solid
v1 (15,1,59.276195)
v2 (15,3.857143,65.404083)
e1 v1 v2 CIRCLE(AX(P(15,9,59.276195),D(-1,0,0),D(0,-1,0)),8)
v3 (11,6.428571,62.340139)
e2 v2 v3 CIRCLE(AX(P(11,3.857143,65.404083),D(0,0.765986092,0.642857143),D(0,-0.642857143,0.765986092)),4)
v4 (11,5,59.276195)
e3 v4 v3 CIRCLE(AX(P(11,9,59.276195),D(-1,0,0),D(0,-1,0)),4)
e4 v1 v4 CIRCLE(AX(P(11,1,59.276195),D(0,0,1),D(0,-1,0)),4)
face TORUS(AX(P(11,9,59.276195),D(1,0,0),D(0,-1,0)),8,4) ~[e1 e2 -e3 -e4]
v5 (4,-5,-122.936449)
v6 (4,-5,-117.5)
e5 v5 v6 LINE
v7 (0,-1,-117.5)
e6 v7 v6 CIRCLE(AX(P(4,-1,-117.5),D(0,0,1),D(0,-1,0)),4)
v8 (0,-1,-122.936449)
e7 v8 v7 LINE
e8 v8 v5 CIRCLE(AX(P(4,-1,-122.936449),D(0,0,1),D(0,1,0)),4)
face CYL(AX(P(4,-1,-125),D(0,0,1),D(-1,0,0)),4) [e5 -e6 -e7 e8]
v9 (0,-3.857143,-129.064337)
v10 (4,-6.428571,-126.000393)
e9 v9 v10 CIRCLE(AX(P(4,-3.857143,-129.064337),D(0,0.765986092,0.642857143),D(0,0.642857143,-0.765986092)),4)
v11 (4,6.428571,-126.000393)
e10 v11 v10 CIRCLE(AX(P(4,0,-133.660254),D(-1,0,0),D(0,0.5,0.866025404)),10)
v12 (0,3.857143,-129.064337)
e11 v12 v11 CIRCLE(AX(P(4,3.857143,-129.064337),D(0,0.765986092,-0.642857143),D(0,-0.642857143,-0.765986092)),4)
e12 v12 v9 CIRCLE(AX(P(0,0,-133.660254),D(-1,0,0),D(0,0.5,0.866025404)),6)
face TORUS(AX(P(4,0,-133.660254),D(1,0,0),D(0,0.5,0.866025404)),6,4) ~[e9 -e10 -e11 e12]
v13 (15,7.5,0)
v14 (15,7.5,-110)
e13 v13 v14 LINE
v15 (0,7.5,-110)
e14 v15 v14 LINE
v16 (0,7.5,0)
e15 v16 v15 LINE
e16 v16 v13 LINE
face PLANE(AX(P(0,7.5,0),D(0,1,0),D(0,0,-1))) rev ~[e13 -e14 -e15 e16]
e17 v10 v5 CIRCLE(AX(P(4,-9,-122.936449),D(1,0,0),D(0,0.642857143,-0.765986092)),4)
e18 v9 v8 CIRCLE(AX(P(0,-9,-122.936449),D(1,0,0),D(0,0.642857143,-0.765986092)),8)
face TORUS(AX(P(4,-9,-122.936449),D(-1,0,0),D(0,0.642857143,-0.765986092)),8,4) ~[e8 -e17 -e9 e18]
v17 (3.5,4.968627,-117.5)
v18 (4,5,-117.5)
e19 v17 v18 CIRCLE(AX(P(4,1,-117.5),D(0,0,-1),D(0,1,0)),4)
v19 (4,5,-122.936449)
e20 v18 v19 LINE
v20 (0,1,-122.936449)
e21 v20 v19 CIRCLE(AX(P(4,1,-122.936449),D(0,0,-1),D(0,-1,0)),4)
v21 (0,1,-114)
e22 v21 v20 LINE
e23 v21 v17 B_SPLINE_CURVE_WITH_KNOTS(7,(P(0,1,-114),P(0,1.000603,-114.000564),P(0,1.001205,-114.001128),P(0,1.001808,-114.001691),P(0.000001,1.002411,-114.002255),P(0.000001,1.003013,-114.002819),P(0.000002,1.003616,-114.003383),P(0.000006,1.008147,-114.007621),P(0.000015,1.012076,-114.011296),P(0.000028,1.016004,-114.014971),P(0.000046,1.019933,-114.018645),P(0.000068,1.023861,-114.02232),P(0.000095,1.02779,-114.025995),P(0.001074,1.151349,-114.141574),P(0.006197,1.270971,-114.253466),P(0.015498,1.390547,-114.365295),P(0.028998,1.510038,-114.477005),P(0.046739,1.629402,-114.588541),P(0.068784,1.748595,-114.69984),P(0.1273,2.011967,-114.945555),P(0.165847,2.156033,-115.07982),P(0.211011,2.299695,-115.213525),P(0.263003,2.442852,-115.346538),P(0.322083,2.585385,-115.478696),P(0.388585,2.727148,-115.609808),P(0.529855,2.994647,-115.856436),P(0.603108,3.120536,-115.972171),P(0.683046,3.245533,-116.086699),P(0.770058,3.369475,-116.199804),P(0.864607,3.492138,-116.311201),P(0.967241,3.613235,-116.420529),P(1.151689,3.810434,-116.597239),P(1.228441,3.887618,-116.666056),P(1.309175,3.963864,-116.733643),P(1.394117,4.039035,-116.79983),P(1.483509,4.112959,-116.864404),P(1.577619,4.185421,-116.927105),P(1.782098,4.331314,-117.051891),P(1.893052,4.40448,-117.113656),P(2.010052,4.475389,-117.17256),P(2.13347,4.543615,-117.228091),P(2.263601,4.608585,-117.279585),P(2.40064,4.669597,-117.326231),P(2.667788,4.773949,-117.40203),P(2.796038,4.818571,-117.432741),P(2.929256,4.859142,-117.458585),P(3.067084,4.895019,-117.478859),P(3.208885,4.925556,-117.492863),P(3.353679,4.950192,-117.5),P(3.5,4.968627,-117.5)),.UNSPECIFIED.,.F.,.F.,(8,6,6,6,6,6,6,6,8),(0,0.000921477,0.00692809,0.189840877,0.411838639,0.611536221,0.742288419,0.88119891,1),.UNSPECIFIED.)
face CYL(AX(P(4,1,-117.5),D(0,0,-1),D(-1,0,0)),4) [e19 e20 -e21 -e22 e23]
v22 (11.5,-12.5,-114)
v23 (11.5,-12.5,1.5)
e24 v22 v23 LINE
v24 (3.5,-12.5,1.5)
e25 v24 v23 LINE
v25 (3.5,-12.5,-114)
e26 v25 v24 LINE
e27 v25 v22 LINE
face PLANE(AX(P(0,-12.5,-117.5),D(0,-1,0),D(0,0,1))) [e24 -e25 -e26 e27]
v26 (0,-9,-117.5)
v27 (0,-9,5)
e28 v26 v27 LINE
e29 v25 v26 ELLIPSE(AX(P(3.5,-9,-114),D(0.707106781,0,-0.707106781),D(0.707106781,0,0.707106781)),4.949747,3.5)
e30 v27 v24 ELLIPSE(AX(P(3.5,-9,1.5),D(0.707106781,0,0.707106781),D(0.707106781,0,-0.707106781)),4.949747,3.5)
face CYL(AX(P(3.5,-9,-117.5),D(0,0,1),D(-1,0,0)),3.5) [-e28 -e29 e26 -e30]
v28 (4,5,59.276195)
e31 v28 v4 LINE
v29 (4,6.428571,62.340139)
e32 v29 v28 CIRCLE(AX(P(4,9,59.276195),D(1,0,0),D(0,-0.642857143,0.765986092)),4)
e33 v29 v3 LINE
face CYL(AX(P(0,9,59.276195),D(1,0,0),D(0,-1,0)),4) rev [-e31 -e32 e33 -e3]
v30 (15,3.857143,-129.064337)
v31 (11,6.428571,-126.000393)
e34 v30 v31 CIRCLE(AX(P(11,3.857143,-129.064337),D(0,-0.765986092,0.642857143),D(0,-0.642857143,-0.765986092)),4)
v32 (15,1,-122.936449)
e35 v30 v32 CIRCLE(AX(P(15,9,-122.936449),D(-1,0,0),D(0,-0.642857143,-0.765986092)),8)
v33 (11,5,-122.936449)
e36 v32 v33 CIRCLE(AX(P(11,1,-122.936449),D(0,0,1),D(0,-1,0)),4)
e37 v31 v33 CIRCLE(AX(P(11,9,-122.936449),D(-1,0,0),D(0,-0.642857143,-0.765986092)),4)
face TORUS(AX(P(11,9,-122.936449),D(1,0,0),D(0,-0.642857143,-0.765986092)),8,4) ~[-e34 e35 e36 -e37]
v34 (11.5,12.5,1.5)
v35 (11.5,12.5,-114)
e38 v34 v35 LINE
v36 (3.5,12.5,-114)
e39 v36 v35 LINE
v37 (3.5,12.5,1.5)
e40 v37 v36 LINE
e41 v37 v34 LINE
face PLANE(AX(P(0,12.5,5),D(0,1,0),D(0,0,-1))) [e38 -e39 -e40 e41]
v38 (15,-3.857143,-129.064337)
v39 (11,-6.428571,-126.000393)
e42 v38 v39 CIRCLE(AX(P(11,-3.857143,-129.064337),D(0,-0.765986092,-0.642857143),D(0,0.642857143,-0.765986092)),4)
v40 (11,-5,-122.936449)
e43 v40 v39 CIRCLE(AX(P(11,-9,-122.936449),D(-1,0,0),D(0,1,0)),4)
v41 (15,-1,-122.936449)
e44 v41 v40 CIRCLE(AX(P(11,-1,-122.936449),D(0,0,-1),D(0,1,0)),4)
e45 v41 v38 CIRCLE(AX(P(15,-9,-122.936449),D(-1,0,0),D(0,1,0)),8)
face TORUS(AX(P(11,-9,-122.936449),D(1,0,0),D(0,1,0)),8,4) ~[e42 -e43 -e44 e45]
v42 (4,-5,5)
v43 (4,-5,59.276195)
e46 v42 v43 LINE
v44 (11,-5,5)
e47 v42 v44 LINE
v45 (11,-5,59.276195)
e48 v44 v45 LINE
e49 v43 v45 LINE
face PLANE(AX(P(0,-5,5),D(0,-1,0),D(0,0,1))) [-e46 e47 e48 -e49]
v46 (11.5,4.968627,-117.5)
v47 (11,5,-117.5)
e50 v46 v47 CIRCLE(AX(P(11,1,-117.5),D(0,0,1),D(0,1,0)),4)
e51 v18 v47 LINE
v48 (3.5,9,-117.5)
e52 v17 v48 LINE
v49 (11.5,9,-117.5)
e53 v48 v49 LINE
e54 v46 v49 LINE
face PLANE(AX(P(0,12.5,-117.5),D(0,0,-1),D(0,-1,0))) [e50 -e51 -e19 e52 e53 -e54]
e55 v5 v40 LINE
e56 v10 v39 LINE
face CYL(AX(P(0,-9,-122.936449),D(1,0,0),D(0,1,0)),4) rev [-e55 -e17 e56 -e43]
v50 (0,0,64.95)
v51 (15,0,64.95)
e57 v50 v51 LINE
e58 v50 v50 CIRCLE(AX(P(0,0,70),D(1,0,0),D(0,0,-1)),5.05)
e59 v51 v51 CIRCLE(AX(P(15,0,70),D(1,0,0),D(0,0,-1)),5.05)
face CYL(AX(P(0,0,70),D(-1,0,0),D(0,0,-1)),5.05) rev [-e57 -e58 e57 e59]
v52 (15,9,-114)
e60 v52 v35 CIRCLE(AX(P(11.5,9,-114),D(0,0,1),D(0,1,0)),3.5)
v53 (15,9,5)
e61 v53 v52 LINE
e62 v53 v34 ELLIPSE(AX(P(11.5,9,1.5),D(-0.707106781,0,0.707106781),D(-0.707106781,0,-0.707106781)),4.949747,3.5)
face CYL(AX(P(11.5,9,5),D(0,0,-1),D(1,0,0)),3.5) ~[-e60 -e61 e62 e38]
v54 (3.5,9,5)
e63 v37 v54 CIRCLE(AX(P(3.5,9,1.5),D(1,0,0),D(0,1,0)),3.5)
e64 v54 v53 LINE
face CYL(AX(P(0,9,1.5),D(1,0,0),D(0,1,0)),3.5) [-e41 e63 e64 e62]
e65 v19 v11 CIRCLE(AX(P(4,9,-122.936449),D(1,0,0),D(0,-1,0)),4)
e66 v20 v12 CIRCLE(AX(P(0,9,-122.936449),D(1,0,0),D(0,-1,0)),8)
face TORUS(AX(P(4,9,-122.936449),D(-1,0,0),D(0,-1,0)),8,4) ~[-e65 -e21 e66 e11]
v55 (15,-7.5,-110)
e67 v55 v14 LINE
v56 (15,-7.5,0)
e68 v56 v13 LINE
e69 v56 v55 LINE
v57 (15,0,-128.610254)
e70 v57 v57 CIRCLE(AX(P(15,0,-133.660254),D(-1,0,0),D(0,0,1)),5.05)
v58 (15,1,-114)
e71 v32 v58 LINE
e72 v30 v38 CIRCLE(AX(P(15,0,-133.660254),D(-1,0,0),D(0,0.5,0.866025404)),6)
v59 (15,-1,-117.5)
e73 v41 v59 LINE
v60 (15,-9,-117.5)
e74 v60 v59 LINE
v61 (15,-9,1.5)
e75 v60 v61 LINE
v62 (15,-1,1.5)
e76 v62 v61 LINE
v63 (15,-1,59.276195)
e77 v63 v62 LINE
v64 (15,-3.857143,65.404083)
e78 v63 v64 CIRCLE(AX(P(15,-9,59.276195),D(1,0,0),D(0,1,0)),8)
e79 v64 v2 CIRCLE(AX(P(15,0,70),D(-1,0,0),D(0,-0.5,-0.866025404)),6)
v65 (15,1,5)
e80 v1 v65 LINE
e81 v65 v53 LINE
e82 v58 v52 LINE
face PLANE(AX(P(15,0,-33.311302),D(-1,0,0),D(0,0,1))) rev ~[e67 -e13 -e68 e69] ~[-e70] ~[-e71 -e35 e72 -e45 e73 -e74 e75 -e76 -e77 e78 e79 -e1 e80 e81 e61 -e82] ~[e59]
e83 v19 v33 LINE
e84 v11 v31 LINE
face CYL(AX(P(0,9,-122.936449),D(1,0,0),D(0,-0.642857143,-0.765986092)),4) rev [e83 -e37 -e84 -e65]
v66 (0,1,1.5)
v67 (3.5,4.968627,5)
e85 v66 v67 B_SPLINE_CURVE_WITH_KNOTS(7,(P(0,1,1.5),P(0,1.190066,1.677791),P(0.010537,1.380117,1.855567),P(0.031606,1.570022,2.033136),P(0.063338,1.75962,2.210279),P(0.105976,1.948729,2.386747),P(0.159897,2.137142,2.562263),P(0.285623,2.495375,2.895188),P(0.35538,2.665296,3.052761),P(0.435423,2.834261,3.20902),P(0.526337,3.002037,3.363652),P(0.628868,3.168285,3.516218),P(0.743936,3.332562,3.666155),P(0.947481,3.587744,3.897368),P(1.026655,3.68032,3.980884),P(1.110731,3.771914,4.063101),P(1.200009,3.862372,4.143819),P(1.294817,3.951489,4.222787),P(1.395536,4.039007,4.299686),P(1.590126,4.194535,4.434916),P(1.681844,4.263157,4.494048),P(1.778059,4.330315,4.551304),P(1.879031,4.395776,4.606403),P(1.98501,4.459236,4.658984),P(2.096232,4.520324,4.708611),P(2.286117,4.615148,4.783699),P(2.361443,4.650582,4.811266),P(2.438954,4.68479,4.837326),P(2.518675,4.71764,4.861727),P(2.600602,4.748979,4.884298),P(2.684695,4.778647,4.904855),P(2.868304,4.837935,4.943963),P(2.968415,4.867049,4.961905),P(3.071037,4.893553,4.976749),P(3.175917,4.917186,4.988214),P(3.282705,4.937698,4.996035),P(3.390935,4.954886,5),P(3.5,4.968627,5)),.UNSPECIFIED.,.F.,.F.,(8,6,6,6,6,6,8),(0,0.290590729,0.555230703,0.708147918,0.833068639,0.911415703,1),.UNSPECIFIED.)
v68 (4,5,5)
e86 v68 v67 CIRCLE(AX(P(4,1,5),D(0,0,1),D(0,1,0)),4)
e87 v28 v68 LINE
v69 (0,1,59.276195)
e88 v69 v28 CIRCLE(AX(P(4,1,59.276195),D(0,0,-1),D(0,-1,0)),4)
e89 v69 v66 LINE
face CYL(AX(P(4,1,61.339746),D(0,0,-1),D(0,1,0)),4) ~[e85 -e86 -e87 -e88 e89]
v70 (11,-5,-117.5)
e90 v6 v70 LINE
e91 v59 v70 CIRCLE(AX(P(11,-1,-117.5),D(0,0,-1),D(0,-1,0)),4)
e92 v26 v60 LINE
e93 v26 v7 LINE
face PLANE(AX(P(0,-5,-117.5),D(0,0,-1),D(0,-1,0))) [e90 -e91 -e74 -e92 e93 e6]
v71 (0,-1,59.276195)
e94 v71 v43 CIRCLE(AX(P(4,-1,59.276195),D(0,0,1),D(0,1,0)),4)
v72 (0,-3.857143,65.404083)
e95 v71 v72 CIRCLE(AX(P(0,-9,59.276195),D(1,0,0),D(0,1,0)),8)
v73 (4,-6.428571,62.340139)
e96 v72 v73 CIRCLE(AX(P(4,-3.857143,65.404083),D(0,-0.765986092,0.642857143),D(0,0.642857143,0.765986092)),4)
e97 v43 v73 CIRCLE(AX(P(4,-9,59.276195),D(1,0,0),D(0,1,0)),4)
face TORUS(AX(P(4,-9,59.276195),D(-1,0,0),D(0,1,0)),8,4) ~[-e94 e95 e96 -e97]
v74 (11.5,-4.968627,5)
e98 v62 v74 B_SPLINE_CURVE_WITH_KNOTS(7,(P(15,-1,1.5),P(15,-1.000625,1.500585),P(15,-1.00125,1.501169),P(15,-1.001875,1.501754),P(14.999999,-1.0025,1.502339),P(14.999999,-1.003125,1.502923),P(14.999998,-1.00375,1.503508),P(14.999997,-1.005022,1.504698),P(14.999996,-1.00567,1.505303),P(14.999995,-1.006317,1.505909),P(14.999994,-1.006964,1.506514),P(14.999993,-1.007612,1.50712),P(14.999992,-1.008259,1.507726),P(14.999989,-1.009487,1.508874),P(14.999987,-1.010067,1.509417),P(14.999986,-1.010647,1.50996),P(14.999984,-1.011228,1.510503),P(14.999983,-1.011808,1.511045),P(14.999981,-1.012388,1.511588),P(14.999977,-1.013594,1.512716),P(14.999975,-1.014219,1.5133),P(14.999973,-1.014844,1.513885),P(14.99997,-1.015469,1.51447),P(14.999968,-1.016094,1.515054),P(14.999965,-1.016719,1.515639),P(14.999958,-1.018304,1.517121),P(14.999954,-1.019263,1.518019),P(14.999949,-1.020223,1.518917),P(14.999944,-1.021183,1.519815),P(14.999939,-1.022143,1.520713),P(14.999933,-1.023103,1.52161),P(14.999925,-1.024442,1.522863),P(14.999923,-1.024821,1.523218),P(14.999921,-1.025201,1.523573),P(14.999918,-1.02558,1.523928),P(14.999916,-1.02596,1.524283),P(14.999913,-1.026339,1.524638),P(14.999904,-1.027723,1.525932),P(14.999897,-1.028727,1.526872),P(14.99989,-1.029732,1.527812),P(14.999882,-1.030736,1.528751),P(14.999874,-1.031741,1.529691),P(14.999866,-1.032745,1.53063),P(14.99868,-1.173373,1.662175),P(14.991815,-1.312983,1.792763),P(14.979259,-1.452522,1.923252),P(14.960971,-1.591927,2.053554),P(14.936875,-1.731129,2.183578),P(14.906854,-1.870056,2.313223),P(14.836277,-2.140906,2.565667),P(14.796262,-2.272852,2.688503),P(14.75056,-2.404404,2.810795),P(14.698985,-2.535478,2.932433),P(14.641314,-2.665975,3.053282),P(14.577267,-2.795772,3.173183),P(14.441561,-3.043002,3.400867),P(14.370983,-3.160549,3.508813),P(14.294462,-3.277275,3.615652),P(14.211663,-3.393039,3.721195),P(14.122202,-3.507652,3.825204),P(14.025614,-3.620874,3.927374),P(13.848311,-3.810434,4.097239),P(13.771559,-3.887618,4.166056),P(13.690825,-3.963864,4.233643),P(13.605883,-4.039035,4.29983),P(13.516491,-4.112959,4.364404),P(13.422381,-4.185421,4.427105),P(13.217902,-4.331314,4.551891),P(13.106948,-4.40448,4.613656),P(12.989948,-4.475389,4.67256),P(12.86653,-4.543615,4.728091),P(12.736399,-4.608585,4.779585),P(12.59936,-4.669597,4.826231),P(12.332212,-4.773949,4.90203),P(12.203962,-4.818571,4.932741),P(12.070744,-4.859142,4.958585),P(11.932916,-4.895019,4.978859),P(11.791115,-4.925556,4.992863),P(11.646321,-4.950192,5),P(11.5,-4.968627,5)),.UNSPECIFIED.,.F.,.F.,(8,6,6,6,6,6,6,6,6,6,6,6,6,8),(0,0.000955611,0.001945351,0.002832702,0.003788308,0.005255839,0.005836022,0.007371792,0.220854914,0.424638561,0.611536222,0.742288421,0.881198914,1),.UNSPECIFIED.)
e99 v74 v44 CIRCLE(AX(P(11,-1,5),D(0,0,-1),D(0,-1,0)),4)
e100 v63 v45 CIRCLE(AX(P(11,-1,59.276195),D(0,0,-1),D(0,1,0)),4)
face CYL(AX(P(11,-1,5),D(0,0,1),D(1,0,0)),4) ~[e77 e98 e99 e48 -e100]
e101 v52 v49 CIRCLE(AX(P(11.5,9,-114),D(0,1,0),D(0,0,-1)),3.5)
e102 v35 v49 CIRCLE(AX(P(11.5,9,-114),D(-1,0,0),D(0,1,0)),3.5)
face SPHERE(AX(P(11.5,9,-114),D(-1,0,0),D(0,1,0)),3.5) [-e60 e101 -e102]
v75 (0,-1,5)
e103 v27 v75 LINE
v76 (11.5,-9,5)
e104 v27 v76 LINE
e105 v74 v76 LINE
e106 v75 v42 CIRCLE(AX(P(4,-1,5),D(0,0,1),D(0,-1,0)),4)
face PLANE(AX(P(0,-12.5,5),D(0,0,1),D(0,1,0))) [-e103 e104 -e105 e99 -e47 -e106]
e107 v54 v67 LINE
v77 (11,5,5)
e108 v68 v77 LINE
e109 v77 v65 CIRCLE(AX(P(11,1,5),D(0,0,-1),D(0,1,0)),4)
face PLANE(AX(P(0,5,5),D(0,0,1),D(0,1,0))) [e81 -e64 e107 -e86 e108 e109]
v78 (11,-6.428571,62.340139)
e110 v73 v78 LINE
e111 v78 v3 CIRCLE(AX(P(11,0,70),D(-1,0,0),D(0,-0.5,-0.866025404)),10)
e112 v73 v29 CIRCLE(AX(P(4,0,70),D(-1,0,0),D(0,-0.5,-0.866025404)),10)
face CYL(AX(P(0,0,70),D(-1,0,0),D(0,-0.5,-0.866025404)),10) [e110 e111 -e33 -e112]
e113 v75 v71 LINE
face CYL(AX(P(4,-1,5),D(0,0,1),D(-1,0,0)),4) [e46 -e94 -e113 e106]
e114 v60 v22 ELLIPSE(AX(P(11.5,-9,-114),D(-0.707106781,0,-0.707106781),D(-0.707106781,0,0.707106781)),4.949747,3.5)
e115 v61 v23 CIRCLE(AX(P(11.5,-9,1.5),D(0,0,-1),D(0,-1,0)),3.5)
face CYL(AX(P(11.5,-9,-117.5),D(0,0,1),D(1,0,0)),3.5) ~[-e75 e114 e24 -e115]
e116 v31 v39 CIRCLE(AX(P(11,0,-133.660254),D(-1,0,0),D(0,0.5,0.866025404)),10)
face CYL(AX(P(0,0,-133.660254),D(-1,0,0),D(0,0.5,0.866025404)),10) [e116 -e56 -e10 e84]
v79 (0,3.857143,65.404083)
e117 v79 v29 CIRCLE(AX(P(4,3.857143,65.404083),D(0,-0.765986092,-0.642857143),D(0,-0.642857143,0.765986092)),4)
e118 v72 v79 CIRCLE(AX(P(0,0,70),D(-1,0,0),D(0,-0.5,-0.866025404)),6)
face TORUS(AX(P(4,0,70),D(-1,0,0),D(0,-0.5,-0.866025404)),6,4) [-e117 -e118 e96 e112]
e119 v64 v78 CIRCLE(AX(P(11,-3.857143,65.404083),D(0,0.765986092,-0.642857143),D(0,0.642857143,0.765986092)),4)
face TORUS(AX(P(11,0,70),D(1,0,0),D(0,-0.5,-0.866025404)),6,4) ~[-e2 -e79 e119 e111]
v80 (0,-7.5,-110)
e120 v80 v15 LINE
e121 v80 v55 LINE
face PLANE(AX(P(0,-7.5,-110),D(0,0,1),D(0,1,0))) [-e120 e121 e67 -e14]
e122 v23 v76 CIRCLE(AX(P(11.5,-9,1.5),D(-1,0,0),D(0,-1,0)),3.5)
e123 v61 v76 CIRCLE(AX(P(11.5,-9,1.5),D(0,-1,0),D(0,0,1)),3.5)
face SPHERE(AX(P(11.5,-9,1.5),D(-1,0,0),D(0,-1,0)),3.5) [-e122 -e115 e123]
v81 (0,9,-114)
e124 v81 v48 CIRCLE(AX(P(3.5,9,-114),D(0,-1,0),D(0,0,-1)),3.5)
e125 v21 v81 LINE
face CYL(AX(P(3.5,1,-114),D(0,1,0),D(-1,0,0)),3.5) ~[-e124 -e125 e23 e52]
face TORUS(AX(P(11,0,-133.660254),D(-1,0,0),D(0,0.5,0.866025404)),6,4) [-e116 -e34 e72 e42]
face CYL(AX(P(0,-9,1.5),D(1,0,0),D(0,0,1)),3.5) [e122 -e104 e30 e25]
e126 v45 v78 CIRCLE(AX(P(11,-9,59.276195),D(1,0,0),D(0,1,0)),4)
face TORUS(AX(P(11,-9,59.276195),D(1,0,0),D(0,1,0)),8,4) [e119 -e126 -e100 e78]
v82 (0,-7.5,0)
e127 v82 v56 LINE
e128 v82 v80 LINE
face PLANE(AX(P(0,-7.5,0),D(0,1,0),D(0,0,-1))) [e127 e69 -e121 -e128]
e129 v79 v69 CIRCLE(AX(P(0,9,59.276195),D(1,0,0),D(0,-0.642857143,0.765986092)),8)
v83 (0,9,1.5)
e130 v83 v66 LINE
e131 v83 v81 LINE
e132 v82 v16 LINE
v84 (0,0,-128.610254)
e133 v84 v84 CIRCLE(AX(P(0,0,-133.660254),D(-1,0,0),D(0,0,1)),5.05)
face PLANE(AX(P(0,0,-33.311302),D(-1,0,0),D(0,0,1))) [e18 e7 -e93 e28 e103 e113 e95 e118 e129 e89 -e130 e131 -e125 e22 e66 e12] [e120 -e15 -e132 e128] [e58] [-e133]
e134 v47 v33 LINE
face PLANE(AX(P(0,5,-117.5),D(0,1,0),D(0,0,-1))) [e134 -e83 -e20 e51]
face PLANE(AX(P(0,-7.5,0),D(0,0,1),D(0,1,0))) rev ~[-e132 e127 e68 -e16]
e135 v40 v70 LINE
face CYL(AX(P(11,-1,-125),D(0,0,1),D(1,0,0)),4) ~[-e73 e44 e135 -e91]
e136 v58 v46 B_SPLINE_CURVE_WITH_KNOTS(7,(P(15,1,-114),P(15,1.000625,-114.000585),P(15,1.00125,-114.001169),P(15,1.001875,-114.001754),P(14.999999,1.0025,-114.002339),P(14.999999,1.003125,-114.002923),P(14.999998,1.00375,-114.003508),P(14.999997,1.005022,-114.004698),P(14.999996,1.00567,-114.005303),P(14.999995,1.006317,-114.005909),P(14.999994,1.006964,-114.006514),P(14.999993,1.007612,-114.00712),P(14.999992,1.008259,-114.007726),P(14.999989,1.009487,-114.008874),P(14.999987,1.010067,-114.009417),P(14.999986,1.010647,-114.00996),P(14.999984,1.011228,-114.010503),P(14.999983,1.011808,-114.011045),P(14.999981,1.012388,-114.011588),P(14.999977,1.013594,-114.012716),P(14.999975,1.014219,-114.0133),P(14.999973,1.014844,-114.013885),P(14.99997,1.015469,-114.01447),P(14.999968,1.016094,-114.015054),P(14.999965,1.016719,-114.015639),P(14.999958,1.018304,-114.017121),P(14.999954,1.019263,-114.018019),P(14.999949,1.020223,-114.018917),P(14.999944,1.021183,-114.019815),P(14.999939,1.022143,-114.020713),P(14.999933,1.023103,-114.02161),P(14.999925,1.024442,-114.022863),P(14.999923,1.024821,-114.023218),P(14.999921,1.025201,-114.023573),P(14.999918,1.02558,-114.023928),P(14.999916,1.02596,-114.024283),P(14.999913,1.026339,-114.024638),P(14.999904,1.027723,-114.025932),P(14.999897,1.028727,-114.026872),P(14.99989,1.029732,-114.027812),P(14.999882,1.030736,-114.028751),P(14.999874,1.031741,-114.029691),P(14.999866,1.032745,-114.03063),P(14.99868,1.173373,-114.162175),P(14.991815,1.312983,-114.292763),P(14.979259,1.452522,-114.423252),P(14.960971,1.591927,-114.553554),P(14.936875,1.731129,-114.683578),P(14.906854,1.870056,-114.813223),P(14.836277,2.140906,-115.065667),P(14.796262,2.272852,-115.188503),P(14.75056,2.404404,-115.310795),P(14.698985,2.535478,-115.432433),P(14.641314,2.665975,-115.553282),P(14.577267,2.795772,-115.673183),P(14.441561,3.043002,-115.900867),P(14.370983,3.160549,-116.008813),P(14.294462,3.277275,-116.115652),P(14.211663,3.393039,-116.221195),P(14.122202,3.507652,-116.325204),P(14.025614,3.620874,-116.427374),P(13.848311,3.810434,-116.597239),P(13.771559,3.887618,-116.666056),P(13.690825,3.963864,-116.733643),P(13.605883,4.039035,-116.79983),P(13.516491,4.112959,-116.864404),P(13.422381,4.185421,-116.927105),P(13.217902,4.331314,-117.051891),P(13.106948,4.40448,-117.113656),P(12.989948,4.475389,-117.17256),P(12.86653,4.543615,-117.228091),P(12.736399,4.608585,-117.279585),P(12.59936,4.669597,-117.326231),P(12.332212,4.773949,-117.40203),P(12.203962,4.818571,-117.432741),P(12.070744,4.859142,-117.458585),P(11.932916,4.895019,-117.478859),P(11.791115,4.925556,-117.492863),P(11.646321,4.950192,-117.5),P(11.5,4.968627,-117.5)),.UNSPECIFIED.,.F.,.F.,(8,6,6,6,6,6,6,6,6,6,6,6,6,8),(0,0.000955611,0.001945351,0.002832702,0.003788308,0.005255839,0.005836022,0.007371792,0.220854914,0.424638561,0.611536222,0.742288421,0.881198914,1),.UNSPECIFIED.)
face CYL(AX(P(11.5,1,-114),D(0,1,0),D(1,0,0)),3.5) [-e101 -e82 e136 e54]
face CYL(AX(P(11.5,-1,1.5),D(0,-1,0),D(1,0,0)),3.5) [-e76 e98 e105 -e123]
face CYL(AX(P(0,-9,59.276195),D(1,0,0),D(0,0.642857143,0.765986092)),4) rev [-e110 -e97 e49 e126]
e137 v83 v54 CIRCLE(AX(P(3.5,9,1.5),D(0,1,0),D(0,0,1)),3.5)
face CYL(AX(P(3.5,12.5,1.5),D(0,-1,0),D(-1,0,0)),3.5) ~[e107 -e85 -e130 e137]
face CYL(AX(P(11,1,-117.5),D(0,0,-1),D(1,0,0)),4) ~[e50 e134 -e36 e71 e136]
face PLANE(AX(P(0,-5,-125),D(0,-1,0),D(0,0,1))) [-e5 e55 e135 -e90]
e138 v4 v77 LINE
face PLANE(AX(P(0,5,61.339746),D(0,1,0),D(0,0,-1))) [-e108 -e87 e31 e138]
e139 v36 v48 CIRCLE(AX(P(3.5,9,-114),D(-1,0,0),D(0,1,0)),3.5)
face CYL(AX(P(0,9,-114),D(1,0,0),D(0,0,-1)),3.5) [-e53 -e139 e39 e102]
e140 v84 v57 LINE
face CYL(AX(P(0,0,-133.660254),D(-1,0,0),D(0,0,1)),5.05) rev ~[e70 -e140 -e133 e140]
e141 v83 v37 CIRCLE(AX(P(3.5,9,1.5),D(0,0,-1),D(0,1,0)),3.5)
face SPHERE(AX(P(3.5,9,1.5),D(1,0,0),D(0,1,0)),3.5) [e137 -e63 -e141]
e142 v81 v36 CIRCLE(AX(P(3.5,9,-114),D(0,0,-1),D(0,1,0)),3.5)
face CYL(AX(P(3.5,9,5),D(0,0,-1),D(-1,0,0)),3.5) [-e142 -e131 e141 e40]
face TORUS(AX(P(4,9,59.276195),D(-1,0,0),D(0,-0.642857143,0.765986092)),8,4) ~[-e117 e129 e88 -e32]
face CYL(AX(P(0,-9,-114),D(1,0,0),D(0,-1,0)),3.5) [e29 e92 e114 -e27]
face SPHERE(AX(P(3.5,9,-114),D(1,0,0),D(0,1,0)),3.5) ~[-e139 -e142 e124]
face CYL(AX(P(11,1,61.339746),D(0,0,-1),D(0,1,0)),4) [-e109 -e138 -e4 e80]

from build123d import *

# Parameters (mm, degrees)
SKETCH1_W           = 220
SKETCH1_H           = 30
BOSS_EXTRUDE1_DEPTH = 30
SKETCH2_R           = 10.1
CUT_EXTRUDE1_DEPTH  = 30
SKETCH3_R           = 10.1
CUT_EXTRUDE2_DEPTH  = 30
FILLET1_R           = 8
FILLET2_R           = 8
FILLET4_R           = 7
SCALE1_SCALE        = 0.5


with BuildPart() as part:
    # Sketch1 → Boss-Extrude1 (new body)
    with BuildSketch(Plane(origin=(0, 0, 0), x_dir=(0, 0, -1), z_dir=(1, 0, 0))):
        with BuildLine():
            Line((-122.679491924, 10), (-10, 10))
            Line((-10, 10), (-10, 25))
            Line((-10, 25), (235, 25))
            Line((235, 25), (235, 10))
            Line((235, 10), (250, 10))
            ThreePointArc((250, 10), (287.320508076, 0), (250, -10))
            Line((250, -10), (235, -10))
            Line((235, -10), (235, -25))
            Line((235, -25), (-10, -25))
            Line((-10, -25), (-10, -10))
            Line((-10, -10), (-122.679491924, -10))
            ThreePointArc((-122.679491924, -10), (-160, 0), (-122.679491924, 10))
        make_face()
        with Locations((110, 0)):
            Rectangle(SKETCH1_W, SKETCH1_H, mode=Mode.SUBTRACT)
    extrude(amount=BOSS_EXTRUDE1_DEPTH)

    # Sketch2 → Cut-Extrude1 (cut)
    with BuildSketch(Plane(origin=(0, 0, 0), x_dir=(0, 0, -1), z_dir=(1, 0, 0))):
        with Locations((-140, 0)):
            Circle(SKETCH2_R)
    extrude(amount=CUT_EXTRUDE1_DEPTH, mode=Mode.SUBTRACT)

    # Sketch3 → Cut-Extrude2 (cut)
    with BuildSketch(Plane.ZY):
        with Locations((-267.320508076, 0)):
            Circle(SKETCH3_R)
    extrude(amount=-CUT_EXTRUDE2_DEPTH, mode=Mode.SUBTRACT)

    # Fillet1
    fillet1_edges = [part.edges().sort_by_distance(p)[0] for p in [
        (0, -10, 66.339745962),
        (0, 0, 160),
        (0, 10, 66.339745962),
        (30, 10, 66.339745962),
        (30, 0, 160),
        (15, -10, 122.679491924),
        (15, 10, 122.679491924),
        (30, -10, 66.339745962),
    ]]
    fillet(fillet1_edges, radius=FILLET1_R)

    # Fillet2
    fillet2_edges = [part.edges().sort_by_distance(p)[0] for p in [
        (0, 10, -242.5),
        (0, 0, -287.320508076),
        (0, -10, -242.5),
        (15, 10, -250),
        (15, -10, -250),
        (30, -10, -242.5),
        (30, 0, -287.320508076),
        (30, 10, -242.5),
    ]]
    fillet(fillet2_edges, radius=FILLET2_R)

    # Fillet4
    fillet4_edges = [part.edges().sort_by_distance(p)[0] for p in [
        (15, -25, 10),
        (30, -25, -112.5),
        (15, -25, -235),
        (0, -25, -112.5),
        (15, 25, -235),
        (30, 25, -112.5),
        (15, 25, 10),
        (0, 25, -112.5),
        (30, 13.5, -235),
        (0, 13.5, -235),
        (0, 13.5, 10),
        (30, -13.5, 10),
    ]]
    fillet(fillet4_edges, radius=FILLET4_R)


with BuildPart() as part_1:
    # Scale1: scaled about (0, 0, 0)
    add(part.part.scale(SCALE1_SCALE))


solid = part_1.part
